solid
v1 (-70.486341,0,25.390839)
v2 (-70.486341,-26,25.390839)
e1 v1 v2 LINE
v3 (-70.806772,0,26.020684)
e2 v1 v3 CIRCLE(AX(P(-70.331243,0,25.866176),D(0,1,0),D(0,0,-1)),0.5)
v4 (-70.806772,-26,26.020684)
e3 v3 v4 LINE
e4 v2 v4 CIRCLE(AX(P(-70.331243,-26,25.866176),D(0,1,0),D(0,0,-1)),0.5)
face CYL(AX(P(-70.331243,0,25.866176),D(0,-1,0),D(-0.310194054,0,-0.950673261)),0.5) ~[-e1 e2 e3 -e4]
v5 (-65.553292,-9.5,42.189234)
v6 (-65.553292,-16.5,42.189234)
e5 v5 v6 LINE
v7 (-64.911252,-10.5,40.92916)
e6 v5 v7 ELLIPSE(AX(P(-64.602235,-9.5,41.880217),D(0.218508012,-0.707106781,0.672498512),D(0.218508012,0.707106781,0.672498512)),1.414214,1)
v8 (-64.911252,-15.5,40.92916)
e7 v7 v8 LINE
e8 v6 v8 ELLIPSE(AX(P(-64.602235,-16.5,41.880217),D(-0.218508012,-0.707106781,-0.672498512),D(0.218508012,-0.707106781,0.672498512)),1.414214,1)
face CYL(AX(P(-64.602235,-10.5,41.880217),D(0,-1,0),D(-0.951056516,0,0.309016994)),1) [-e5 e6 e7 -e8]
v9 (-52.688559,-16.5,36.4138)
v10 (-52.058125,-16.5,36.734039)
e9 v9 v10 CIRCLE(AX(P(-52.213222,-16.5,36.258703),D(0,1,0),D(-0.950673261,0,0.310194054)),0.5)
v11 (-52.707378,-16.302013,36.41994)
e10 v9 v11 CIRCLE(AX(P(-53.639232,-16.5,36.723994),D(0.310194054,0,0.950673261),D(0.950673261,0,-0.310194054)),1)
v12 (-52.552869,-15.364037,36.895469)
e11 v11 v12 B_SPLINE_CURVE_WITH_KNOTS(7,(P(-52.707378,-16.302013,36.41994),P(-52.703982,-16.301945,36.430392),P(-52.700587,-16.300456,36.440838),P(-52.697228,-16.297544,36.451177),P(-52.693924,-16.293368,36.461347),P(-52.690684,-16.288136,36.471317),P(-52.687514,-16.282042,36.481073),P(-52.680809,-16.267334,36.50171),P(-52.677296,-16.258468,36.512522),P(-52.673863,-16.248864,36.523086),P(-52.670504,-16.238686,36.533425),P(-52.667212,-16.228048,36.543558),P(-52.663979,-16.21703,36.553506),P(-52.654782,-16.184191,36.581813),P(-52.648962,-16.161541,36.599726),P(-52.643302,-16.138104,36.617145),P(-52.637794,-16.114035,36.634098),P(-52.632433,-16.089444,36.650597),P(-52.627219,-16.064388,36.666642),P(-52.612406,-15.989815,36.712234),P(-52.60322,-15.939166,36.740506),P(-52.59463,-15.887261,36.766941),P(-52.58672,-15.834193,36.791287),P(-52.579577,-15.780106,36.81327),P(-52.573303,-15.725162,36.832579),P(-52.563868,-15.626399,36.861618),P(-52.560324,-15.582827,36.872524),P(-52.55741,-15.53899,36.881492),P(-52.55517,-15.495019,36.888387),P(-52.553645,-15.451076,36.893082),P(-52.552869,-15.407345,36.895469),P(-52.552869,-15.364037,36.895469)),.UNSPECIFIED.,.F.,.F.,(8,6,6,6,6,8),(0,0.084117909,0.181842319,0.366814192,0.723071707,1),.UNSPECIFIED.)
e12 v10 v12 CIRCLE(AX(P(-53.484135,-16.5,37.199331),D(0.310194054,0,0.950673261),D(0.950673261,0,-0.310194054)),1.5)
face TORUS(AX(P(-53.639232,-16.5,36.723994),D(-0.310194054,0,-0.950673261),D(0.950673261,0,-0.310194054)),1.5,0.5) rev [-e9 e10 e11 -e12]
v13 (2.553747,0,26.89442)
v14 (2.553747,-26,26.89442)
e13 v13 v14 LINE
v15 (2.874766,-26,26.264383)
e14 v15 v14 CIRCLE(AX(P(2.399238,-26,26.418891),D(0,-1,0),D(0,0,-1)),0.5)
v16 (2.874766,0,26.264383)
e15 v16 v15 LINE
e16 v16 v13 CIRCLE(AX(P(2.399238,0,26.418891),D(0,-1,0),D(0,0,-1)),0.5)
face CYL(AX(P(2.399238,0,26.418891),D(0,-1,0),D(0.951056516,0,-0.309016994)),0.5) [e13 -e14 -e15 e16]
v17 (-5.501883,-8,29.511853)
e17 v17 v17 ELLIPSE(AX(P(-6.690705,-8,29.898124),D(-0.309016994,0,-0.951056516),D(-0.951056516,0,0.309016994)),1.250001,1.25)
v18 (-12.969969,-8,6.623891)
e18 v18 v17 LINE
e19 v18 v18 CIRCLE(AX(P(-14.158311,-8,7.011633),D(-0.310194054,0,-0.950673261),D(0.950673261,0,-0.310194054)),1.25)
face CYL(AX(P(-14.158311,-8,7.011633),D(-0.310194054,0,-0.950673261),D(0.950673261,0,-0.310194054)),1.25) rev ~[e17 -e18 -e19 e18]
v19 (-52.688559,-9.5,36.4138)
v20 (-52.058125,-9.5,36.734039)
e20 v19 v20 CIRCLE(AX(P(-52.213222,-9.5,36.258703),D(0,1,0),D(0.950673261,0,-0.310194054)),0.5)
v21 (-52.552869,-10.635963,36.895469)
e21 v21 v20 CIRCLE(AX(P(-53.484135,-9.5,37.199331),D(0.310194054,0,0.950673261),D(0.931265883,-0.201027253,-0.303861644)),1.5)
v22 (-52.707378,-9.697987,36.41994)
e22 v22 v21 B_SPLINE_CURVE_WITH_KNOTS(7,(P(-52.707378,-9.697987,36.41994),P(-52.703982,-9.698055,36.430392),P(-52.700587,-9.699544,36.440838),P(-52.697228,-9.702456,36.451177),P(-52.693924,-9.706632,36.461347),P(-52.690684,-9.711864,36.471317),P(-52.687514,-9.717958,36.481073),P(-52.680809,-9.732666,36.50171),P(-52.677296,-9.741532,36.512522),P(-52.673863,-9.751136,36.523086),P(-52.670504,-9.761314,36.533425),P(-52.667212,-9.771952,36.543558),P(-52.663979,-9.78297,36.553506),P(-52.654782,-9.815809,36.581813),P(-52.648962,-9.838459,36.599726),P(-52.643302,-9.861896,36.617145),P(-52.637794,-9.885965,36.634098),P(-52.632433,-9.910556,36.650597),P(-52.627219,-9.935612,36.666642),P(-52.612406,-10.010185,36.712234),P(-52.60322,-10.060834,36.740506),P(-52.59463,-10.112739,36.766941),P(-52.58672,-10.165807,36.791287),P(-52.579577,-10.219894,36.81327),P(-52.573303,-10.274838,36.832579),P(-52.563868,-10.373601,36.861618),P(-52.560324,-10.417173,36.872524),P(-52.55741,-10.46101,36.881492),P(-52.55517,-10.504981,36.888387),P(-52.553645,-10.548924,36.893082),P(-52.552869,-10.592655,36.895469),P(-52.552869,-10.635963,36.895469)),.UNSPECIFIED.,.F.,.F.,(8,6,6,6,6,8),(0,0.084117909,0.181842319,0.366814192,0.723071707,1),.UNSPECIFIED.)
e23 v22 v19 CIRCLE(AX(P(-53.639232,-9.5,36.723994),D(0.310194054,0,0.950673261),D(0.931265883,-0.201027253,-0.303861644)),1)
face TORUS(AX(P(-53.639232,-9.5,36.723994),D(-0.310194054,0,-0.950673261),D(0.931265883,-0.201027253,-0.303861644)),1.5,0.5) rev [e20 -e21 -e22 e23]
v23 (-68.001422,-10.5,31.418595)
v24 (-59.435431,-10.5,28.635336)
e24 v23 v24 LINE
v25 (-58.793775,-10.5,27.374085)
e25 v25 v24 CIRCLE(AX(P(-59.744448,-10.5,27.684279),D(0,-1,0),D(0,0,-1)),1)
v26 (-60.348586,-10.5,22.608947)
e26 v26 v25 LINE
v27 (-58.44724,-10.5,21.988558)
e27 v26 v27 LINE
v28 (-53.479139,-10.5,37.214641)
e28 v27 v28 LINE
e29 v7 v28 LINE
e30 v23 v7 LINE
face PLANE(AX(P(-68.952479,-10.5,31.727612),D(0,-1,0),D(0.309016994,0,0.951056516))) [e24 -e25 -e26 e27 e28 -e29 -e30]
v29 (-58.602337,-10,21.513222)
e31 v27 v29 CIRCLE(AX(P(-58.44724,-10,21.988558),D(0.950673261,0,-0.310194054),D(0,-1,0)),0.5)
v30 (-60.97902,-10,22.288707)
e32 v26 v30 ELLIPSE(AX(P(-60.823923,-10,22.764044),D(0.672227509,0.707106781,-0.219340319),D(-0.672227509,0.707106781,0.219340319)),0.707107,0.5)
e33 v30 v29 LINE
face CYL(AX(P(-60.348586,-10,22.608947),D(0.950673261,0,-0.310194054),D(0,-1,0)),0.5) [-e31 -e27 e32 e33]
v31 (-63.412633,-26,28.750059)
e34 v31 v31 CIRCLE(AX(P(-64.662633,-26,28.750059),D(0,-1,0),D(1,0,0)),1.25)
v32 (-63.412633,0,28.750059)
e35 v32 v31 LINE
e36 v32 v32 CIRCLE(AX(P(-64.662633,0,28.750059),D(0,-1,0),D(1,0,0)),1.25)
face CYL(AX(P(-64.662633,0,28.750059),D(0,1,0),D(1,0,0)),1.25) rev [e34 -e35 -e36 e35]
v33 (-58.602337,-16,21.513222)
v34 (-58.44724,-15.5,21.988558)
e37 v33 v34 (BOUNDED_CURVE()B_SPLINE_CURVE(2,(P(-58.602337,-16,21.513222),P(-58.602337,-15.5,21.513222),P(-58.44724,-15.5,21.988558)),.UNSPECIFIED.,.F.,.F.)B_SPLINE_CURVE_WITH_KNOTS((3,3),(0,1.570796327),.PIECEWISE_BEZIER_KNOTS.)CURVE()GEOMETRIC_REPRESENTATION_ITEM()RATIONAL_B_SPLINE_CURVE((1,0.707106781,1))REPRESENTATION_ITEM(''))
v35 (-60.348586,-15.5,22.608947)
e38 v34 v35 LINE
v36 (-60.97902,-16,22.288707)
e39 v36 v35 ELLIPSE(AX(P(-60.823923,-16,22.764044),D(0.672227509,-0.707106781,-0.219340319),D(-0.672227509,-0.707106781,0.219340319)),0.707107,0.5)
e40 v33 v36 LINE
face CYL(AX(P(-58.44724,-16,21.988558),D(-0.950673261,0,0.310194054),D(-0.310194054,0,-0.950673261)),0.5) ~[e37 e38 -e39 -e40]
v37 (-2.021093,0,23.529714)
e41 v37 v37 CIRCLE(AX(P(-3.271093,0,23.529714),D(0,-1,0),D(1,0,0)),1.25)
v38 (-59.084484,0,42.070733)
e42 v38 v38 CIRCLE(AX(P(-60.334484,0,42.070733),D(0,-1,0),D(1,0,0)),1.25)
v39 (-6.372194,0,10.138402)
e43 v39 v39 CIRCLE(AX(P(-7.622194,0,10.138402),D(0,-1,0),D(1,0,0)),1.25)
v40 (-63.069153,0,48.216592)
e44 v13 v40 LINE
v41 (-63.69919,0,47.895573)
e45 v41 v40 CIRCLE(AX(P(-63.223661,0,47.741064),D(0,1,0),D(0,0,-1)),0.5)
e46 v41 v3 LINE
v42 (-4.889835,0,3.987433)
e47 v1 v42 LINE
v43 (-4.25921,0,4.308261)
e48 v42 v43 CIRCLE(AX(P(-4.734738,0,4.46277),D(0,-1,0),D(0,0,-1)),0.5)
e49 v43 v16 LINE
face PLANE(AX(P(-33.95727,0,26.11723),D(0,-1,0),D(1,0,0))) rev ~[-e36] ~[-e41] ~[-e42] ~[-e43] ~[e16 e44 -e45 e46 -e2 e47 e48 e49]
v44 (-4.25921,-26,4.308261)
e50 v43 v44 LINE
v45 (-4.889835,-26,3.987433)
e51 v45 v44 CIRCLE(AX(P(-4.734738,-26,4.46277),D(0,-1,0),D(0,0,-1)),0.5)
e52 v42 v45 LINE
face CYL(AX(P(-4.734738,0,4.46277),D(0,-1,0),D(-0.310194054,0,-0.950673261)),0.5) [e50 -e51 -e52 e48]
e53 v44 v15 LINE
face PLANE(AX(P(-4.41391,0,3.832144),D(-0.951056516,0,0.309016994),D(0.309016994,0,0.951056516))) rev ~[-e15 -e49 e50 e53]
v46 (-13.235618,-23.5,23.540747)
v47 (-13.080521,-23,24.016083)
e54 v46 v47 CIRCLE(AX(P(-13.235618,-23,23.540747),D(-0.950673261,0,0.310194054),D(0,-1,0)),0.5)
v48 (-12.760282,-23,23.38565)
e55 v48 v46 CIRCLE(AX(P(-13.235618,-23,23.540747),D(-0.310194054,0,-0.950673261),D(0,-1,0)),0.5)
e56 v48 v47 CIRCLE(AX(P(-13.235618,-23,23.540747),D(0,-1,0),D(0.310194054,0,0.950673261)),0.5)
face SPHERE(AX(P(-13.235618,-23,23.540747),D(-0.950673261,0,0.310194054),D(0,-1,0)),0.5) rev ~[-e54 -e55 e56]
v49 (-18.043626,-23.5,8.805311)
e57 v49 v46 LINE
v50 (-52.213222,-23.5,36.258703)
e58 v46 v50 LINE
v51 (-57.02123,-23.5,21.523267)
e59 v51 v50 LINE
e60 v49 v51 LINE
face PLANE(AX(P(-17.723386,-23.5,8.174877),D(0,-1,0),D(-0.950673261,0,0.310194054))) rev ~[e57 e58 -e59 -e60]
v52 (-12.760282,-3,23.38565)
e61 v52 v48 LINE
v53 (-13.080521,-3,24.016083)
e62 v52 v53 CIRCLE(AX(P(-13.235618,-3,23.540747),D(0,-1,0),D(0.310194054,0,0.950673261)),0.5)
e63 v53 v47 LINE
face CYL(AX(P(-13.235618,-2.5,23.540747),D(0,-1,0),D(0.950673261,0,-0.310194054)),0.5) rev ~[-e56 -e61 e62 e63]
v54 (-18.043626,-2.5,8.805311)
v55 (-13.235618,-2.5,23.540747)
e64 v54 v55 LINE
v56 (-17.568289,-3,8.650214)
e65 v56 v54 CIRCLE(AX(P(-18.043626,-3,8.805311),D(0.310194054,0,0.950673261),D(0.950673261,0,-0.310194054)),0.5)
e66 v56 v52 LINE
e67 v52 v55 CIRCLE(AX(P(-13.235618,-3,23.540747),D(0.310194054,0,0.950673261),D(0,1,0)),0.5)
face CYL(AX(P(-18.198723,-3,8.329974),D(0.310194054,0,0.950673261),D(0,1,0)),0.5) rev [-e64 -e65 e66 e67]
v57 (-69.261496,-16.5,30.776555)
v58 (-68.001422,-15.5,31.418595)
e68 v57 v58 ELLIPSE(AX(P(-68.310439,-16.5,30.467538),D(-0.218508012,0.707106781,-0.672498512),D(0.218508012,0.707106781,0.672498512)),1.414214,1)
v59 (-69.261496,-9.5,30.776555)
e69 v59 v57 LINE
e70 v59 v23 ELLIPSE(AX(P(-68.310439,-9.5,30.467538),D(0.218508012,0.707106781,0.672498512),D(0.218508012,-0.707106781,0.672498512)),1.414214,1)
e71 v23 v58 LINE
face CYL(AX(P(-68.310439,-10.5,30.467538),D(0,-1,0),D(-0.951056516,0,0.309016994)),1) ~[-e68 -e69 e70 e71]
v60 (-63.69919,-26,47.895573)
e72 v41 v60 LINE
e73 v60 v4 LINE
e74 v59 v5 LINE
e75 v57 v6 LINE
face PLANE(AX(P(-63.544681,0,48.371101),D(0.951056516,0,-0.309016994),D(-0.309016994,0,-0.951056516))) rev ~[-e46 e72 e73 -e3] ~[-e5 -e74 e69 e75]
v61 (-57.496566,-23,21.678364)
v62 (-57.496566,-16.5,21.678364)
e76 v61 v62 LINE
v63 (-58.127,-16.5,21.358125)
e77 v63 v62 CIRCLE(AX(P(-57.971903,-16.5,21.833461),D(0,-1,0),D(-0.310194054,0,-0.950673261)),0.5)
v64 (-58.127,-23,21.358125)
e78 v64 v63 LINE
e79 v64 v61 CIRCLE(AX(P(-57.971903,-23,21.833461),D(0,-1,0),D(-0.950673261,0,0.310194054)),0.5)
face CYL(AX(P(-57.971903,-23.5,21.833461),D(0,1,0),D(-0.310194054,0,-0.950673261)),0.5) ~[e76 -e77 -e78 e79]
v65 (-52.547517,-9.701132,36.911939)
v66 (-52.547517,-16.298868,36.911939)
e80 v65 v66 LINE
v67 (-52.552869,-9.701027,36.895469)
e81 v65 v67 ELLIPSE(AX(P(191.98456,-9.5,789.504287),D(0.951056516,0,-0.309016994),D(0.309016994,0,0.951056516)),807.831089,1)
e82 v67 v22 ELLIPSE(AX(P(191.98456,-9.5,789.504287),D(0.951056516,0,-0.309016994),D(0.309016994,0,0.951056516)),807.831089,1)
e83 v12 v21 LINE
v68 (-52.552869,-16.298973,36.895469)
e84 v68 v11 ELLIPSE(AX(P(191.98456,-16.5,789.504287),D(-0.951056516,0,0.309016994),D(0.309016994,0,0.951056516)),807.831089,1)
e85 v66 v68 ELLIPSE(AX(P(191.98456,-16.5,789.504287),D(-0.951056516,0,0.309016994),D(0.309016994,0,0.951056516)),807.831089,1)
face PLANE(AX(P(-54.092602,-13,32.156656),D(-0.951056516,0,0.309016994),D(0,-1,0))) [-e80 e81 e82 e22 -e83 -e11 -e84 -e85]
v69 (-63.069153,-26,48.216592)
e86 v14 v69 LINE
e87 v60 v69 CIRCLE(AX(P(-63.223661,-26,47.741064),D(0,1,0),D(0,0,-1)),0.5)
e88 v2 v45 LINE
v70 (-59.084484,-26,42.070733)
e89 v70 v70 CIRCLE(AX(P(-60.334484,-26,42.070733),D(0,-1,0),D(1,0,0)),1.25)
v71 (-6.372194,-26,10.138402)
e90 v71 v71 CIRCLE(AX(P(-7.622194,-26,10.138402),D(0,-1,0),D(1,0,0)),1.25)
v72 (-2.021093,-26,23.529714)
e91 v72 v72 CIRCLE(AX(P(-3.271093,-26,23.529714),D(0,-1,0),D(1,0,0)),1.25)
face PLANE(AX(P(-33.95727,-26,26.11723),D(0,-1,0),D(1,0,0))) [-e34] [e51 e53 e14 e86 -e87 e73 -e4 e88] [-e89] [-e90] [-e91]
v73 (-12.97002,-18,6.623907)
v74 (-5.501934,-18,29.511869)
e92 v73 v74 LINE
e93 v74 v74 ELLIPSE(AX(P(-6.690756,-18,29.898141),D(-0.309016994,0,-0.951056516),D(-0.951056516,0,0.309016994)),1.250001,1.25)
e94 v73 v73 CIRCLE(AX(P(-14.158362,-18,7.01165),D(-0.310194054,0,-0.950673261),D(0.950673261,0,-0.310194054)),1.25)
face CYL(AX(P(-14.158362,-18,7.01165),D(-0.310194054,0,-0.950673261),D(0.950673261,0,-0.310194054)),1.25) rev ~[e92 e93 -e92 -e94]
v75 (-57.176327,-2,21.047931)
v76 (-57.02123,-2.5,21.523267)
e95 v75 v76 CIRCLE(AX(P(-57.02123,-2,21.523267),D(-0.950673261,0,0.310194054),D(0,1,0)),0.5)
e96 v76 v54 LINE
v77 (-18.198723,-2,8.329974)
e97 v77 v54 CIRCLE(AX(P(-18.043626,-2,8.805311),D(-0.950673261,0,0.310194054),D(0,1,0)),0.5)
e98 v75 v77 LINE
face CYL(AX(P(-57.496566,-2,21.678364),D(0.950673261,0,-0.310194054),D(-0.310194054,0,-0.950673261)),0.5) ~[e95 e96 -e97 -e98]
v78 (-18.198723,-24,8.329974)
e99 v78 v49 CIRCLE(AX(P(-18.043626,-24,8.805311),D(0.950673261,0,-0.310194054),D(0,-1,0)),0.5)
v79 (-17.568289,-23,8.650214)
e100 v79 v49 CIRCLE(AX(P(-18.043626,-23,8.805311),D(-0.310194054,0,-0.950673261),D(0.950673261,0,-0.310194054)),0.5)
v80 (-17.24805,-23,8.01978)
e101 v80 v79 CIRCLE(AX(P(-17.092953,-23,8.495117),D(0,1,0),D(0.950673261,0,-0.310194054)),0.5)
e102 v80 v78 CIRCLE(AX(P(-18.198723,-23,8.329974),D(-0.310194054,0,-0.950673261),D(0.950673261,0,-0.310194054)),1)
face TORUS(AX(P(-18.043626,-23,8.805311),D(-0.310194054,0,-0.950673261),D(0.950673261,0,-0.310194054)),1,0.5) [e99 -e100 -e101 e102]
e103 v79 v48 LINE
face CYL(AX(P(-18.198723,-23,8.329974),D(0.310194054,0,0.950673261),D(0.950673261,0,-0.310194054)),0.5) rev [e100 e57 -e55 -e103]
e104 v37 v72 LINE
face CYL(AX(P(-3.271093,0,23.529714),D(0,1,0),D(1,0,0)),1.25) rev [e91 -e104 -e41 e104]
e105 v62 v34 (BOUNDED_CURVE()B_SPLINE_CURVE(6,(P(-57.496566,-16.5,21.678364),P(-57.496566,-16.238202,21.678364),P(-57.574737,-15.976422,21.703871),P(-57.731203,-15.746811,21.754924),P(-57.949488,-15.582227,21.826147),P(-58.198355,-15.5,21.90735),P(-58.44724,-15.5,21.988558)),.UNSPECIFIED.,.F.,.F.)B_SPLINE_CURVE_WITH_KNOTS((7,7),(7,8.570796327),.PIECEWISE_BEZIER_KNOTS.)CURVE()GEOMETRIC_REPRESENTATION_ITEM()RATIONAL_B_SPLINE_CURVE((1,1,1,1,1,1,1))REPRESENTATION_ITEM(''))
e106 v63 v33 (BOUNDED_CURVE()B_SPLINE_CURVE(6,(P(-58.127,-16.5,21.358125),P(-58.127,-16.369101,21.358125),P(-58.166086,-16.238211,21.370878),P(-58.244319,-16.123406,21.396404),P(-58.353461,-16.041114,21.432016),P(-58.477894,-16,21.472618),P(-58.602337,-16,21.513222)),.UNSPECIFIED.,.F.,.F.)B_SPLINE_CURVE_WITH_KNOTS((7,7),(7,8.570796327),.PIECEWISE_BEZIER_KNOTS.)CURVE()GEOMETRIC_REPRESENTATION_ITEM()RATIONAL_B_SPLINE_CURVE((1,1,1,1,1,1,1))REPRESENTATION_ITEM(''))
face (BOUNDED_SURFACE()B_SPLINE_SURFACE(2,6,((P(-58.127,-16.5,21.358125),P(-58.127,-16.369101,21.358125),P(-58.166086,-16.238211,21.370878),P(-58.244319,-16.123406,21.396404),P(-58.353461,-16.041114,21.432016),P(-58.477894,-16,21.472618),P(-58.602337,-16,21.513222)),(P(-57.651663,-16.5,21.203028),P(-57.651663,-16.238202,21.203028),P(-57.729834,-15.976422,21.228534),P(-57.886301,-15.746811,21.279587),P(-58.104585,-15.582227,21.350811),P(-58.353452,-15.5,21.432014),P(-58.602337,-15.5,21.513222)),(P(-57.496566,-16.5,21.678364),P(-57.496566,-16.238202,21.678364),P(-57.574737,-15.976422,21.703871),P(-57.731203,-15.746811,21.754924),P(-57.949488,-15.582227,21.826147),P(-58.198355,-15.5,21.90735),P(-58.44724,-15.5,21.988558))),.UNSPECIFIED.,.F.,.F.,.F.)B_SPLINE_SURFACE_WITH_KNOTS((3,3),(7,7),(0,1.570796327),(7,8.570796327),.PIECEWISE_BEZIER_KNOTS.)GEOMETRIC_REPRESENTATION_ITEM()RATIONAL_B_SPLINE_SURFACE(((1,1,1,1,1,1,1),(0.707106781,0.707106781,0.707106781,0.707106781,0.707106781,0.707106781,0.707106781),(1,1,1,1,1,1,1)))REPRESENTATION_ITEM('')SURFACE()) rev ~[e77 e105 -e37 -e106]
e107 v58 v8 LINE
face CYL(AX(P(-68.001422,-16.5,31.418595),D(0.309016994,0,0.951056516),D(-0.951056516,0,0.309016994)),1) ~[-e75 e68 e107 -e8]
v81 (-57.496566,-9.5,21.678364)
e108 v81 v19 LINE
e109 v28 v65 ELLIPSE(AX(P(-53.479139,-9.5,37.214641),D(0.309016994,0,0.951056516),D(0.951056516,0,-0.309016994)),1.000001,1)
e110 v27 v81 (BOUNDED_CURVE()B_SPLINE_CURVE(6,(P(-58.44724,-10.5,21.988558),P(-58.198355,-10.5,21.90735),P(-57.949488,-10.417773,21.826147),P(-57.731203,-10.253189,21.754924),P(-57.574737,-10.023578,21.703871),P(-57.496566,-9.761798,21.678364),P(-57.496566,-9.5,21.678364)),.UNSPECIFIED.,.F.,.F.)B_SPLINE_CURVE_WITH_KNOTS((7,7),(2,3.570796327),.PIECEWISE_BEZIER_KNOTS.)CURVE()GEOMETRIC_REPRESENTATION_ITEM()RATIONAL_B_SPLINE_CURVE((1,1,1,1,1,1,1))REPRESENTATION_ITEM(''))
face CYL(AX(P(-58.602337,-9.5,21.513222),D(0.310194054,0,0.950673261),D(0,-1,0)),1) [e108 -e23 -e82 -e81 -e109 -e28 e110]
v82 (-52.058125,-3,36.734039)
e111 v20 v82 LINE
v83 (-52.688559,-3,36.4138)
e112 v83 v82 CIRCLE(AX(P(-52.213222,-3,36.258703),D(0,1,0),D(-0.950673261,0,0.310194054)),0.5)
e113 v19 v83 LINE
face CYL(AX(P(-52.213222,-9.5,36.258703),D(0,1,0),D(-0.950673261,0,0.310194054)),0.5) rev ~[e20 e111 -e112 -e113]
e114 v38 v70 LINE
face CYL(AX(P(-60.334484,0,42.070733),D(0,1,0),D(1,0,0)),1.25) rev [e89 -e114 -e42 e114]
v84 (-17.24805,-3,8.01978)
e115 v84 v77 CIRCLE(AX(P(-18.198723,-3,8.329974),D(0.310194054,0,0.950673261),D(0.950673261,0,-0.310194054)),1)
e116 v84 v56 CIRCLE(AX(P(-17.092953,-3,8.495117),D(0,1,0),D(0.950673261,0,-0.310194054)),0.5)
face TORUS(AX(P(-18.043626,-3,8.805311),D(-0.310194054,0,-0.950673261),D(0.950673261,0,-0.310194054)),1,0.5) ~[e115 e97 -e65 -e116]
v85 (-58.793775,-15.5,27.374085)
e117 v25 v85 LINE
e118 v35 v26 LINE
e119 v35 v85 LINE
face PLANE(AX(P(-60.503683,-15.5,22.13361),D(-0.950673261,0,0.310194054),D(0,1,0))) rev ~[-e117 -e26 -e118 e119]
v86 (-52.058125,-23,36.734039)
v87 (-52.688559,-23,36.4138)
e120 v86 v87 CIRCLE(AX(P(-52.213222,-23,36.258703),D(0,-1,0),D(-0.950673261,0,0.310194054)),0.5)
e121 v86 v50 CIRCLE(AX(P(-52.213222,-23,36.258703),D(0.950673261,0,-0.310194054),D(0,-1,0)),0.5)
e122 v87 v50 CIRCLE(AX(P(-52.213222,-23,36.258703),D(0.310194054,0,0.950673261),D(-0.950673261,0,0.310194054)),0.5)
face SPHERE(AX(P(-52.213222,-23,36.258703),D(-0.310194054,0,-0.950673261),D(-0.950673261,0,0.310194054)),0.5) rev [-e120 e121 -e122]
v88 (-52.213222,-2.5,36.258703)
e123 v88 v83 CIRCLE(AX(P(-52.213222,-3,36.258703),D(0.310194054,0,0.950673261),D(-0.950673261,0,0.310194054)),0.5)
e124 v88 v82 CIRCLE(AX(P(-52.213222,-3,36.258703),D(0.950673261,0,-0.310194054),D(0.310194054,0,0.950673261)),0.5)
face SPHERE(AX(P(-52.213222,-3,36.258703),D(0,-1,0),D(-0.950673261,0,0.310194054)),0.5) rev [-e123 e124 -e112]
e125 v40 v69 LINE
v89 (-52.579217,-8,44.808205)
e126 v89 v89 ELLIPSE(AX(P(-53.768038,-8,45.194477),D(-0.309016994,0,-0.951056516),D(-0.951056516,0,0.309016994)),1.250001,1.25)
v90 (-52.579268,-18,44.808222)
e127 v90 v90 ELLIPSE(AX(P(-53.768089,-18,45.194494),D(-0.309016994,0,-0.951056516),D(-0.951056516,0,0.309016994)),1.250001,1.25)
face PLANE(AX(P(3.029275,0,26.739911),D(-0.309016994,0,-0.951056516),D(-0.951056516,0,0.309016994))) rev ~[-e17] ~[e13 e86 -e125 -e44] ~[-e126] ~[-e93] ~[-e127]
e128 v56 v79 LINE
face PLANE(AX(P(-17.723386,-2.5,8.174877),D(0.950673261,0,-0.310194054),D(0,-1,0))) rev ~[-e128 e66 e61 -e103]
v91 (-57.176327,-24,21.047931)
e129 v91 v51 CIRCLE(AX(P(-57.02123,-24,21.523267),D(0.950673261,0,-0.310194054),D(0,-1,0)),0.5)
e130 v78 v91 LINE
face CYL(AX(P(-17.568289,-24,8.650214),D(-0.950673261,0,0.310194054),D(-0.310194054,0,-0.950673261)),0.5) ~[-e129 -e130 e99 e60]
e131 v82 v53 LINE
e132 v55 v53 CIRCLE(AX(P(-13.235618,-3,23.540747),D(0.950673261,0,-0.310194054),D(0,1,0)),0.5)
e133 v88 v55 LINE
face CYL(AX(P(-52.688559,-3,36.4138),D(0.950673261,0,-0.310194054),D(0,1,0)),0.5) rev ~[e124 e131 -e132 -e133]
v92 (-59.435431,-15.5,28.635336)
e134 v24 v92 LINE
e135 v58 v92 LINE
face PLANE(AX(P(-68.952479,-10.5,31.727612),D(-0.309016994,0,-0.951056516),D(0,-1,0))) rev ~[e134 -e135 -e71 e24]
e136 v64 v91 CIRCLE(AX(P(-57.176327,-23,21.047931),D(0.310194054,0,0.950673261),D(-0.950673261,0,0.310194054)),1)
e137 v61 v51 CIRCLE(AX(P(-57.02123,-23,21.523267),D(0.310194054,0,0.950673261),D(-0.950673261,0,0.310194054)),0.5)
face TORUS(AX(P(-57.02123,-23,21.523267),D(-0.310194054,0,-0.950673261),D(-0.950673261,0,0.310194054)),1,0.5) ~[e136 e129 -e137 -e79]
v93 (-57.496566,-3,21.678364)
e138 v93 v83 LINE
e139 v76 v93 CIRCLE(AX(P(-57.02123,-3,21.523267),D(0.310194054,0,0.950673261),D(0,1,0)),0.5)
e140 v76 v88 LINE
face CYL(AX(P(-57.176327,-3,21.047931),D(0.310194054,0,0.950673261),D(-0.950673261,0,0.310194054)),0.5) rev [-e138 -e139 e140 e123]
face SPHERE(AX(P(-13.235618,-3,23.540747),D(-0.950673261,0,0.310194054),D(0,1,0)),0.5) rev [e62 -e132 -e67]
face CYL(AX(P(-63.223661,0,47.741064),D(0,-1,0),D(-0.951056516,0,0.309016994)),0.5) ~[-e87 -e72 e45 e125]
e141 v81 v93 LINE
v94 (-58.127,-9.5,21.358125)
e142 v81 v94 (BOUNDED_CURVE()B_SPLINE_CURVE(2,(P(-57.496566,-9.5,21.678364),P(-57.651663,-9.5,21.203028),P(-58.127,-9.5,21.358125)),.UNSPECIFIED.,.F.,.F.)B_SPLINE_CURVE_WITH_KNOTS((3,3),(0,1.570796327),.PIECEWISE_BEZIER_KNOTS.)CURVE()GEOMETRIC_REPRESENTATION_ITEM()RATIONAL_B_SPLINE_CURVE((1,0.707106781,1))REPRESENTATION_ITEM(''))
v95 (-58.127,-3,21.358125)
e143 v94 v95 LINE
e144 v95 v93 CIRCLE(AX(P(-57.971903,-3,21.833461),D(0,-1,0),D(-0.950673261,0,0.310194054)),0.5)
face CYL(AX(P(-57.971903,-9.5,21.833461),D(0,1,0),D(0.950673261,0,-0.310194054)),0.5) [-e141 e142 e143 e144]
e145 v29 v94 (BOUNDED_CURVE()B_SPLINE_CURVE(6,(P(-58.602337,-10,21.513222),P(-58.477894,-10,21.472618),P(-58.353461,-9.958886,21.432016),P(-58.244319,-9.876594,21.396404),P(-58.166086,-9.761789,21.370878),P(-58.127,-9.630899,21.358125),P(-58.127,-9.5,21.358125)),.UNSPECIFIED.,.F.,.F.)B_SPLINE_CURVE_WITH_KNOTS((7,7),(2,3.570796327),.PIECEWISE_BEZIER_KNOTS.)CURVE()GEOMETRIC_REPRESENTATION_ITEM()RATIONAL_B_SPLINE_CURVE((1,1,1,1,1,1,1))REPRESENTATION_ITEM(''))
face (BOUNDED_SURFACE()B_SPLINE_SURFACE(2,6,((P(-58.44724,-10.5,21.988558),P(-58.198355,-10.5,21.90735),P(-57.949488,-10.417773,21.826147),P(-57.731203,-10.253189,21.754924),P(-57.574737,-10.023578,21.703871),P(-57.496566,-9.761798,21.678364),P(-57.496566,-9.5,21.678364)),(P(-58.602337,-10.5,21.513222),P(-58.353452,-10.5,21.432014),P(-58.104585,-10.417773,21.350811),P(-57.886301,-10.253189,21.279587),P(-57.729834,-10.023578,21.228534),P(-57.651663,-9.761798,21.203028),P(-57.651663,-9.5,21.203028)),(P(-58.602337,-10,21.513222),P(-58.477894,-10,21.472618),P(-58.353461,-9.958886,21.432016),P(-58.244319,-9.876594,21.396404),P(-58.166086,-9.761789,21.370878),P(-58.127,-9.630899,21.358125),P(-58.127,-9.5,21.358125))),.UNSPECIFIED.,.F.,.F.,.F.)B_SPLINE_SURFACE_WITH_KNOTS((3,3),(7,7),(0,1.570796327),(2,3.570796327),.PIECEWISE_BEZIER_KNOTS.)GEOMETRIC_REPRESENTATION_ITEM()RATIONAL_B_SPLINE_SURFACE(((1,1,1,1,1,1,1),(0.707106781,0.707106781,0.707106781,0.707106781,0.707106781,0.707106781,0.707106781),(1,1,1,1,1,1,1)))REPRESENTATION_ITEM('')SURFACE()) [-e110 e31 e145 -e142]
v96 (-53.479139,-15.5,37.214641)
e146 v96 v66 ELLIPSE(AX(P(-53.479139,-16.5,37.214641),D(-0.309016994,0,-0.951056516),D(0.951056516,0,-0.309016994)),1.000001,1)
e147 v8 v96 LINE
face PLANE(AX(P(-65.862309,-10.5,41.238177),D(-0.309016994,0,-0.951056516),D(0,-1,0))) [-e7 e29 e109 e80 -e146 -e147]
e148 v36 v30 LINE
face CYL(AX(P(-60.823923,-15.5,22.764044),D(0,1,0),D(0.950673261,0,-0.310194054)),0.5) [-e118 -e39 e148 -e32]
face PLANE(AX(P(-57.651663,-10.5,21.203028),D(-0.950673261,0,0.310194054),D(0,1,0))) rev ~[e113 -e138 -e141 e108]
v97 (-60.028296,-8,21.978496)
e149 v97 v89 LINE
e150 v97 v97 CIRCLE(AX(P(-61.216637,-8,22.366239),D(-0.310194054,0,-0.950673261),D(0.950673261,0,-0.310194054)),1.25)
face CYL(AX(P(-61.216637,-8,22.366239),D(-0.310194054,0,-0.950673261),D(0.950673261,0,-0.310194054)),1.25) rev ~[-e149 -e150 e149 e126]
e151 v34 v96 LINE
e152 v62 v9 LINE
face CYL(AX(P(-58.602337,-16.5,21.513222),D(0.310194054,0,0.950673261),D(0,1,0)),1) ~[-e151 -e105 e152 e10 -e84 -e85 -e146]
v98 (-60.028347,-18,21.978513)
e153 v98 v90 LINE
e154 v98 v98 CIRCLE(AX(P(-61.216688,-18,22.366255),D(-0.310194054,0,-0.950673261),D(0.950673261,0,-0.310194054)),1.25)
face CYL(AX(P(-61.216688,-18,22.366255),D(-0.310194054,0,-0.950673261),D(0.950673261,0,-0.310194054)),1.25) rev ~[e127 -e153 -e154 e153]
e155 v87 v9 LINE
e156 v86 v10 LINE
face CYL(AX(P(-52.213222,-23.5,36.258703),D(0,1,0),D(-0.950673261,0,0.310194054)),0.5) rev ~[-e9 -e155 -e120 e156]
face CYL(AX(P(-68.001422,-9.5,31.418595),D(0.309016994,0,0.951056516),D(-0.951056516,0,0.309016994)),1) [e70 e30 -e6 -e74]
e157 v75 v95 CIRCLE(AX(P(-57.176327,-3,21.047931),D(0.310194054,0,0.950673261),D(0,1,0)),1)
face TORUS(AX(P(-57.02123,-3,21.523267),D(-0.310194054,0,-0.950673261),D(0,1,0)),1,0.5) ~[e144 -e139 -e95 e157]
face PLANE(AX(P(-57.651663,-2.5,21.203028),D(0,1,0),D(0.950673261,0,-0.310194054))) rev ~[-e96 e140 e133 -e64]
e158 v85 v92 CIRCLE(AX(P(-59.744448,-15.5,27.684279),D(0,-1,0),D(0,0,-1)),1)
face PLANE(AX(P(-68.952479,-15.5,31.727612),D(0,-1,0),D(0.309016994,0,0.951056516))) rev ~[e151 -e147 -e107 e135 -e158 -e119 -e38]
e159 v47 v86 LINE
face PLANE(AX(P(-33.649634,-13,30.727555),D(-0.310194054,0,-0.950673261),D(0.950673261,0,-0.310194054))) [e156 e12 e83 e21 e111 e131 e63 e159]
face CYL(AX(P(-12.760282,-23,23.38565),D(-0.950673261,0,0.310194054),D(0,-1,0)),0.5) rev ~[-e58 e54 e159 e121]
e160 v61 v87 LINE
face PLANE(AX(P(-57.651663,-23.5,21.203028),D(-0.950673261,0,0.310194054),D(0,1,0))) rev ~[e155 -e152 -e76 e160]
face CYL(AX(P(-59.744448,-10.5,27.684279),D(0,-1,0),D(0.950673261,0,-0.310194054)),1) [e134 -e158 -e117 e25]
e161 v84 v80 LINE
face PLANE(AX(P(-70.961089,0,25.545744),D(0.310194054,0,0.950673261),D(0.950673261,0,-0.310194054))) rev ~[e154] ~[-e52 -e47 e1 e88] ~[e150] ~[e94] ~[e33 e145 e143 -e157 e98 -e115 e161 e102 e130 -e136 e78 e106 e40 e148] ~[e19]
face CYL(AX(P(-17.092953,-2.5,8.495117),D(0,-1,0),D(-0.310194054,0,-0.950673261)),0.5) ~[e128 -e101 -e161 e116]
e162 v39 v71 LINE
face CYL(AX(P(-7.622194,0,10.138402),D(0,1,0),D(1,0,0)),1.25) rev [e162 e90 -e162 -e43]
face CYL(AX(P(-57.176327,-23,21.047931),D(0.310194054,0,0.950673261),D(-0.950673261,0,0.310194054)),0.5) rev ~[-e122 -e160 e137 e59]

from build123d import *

# Parameters (mm, degrees)
F0_R     = 1.25
F1_DEPTH = 26
F2_R     = 1.25
F3_DEPTH = 25
F4_DEPTH = 16.5
F5_W     = 5
F5_H     = 10
F6_DEPTH = 14
F7_R     = 1
F8_R     = 0.5


with BuildPart() as f1:
    # F0 (on Front) → F1 (new body)
    with BuildSketch(Plane.XZ):
        Polygon((-63.544681223, 48.3711008589), (-70.961089088, 25.5457444679), (-4.4139098395, 3.8321440613), (3.0292749177, 26.7399112527), align=None)
        with Locations((-7.6221936302, 10.1384017438)):
            Circle(F0_R, mode=Mode.SUBTRACT)
        with Locations((-3.2710926357, 23.5297136431)):
            Circle(F0_R, mode=Mode.SUBTRACT)
        with Locations((-64.662632986, 28.7500592351)):
            Circle(F0_R, mode=Mode.SUBTRACT)
        with Locations((-60.3344836134, 42.0707333056)):
            Circle(F0_R, mode=Mode.SUBTRACT)
    extrude(amount=F1_DEPTH)

    # F2 (on face) → F3 (cut)
    with BuildSketch(Plane(origin=(0.7053652428, 0, 2.1617818497), x_dir=(0.9506732609, 0, -0.3101940539), z_dir=(-0.3101940539, 0, -0.9506732609))):
        with Locations((-65.1349479941, 18)):
            Circle(F2_R)
        with Locations((-65.1348943617, 8)):
            Circle(F2_R)
        with Locations((-15.6349479941, 18)):
            Circle(F2_R)
        with Locations((-15.6348943617, 8)):
            Circle(F2_R)
    extrude(amount=-F3_DEPTH, mode=Mode.SUBTRACT)

    # F2 (on face) → F4 (cut)
    with BuildSketch(Plane(origin=(0.7053652428, 0, 2.1617818497), x_dir=(0.9506732609, 0, -0.3101940539), z_dir=(-0.3101940539, 0, -0.9506732609))):
        Polygon((-19.3849479941, 23.5), (-61.3849479941, 23.5), (-61.3849479941, 15.5), (-64.3849479941, 15.5), (-64.3849479941, 10.5), (-61.3849479941, 10.5), (-61.3849479941, 2.5), (-19.3849479941, 2.5), align=None)
    extrude(amount=-F4_DEPTH, mode=Mode.SUBTRACT)

    # F5 (on face) → F6 (cut)
    with BuildSketch(Plane(origin=(-71.6926139783, 0, 23.294342356), x_dir=(0, -1, 0), z_dir=(-0.9510565163, 0, 0.3090169944))):
        with Locations((13, 13.8672642722)):
            Rectangle(F5_W, F5_H)
    extrude(amount=-F6_DEPTH, mode=Mode.SUBTRACT)

    # F7 (call 1 of 4: OpenCascade refuses the feature's edges together)
    f7_edges = [f1.edges().sort_by_distance(p)[0] for p in [
        (-67.407394, -10.5, 36.482894),
        (-67.407394, -15.5, 36.482894),
        (-65.862309, -13, 41.238177),
        (-68.952479, -13, 31.727612),
    ]]
    fillet(f7_edges, radius=F7_R)

    # F7#2 (call 2 of 4)
    f7_2_edges = [f1.edges().sort_by_distance(p)[0] for p in [
        (-55.092562, -15.5, 29.046082),
    ]]
    fillet(f7_2_edges, radius=F7_R)

    # F7#3 (call 3 of 4)
    f7_3_edges = [f1.edges().sort_by_distance(p)[0] for p in [
        (-55.092562, -10.5, 29.046082),
    ]]
    fillet(f7_3_edges, radius=F7_R)

    # F7#4 (call 4 of 4)
    f7_4_edges = [f1.edges().sort_by_distance(p)[0] for p in [
        (-58.483196, -13, 28.325936),
    ]]
    fillet(f7_4_edges, radius=F7_R)

    # F8
    f8_edges = [f1.edges().sort_by_distance(p)[0] for p in [
        (-57.651663, -20, 21.203028),
        (-60.503683, -13, 22.13361),
        (-59.55301, -10.5, 21.823416),
        (-57.930109, -10.207107, 21.293881),
        (-37.687525, -23.5, 14.688953),
        (-55.092562, -23.5, 29.046082),
        (-52.533462, -20, 36.889137),
        (-32.569323, -23.5, 30.375061),
        (-52.533462, -6, 36.889137),
        (-55.092562, -2.5, 29.046082),
        (-32.569323, -2.5, 30.375061),
        (-37.687525, -2.5, 14.688953),
        (-15.164286, -2.5, 16.017932),
        (-15.164286, -23.5, 16.017932),
        (-17.723386, -13, 8.174877),
        (-12.605185, -13, 23.860986),
        (-57.651663, -6, 21.203028),
        (-70.961089, -13, 25.545744),
        (-4.41391, -13, 3.832144),
        (3.029275, -13, 26.739911),
        (-63.544681, -13, 48.371101),
    ]]
    fillet(f8_edges, radius=F8_R)


solid = f1.part
